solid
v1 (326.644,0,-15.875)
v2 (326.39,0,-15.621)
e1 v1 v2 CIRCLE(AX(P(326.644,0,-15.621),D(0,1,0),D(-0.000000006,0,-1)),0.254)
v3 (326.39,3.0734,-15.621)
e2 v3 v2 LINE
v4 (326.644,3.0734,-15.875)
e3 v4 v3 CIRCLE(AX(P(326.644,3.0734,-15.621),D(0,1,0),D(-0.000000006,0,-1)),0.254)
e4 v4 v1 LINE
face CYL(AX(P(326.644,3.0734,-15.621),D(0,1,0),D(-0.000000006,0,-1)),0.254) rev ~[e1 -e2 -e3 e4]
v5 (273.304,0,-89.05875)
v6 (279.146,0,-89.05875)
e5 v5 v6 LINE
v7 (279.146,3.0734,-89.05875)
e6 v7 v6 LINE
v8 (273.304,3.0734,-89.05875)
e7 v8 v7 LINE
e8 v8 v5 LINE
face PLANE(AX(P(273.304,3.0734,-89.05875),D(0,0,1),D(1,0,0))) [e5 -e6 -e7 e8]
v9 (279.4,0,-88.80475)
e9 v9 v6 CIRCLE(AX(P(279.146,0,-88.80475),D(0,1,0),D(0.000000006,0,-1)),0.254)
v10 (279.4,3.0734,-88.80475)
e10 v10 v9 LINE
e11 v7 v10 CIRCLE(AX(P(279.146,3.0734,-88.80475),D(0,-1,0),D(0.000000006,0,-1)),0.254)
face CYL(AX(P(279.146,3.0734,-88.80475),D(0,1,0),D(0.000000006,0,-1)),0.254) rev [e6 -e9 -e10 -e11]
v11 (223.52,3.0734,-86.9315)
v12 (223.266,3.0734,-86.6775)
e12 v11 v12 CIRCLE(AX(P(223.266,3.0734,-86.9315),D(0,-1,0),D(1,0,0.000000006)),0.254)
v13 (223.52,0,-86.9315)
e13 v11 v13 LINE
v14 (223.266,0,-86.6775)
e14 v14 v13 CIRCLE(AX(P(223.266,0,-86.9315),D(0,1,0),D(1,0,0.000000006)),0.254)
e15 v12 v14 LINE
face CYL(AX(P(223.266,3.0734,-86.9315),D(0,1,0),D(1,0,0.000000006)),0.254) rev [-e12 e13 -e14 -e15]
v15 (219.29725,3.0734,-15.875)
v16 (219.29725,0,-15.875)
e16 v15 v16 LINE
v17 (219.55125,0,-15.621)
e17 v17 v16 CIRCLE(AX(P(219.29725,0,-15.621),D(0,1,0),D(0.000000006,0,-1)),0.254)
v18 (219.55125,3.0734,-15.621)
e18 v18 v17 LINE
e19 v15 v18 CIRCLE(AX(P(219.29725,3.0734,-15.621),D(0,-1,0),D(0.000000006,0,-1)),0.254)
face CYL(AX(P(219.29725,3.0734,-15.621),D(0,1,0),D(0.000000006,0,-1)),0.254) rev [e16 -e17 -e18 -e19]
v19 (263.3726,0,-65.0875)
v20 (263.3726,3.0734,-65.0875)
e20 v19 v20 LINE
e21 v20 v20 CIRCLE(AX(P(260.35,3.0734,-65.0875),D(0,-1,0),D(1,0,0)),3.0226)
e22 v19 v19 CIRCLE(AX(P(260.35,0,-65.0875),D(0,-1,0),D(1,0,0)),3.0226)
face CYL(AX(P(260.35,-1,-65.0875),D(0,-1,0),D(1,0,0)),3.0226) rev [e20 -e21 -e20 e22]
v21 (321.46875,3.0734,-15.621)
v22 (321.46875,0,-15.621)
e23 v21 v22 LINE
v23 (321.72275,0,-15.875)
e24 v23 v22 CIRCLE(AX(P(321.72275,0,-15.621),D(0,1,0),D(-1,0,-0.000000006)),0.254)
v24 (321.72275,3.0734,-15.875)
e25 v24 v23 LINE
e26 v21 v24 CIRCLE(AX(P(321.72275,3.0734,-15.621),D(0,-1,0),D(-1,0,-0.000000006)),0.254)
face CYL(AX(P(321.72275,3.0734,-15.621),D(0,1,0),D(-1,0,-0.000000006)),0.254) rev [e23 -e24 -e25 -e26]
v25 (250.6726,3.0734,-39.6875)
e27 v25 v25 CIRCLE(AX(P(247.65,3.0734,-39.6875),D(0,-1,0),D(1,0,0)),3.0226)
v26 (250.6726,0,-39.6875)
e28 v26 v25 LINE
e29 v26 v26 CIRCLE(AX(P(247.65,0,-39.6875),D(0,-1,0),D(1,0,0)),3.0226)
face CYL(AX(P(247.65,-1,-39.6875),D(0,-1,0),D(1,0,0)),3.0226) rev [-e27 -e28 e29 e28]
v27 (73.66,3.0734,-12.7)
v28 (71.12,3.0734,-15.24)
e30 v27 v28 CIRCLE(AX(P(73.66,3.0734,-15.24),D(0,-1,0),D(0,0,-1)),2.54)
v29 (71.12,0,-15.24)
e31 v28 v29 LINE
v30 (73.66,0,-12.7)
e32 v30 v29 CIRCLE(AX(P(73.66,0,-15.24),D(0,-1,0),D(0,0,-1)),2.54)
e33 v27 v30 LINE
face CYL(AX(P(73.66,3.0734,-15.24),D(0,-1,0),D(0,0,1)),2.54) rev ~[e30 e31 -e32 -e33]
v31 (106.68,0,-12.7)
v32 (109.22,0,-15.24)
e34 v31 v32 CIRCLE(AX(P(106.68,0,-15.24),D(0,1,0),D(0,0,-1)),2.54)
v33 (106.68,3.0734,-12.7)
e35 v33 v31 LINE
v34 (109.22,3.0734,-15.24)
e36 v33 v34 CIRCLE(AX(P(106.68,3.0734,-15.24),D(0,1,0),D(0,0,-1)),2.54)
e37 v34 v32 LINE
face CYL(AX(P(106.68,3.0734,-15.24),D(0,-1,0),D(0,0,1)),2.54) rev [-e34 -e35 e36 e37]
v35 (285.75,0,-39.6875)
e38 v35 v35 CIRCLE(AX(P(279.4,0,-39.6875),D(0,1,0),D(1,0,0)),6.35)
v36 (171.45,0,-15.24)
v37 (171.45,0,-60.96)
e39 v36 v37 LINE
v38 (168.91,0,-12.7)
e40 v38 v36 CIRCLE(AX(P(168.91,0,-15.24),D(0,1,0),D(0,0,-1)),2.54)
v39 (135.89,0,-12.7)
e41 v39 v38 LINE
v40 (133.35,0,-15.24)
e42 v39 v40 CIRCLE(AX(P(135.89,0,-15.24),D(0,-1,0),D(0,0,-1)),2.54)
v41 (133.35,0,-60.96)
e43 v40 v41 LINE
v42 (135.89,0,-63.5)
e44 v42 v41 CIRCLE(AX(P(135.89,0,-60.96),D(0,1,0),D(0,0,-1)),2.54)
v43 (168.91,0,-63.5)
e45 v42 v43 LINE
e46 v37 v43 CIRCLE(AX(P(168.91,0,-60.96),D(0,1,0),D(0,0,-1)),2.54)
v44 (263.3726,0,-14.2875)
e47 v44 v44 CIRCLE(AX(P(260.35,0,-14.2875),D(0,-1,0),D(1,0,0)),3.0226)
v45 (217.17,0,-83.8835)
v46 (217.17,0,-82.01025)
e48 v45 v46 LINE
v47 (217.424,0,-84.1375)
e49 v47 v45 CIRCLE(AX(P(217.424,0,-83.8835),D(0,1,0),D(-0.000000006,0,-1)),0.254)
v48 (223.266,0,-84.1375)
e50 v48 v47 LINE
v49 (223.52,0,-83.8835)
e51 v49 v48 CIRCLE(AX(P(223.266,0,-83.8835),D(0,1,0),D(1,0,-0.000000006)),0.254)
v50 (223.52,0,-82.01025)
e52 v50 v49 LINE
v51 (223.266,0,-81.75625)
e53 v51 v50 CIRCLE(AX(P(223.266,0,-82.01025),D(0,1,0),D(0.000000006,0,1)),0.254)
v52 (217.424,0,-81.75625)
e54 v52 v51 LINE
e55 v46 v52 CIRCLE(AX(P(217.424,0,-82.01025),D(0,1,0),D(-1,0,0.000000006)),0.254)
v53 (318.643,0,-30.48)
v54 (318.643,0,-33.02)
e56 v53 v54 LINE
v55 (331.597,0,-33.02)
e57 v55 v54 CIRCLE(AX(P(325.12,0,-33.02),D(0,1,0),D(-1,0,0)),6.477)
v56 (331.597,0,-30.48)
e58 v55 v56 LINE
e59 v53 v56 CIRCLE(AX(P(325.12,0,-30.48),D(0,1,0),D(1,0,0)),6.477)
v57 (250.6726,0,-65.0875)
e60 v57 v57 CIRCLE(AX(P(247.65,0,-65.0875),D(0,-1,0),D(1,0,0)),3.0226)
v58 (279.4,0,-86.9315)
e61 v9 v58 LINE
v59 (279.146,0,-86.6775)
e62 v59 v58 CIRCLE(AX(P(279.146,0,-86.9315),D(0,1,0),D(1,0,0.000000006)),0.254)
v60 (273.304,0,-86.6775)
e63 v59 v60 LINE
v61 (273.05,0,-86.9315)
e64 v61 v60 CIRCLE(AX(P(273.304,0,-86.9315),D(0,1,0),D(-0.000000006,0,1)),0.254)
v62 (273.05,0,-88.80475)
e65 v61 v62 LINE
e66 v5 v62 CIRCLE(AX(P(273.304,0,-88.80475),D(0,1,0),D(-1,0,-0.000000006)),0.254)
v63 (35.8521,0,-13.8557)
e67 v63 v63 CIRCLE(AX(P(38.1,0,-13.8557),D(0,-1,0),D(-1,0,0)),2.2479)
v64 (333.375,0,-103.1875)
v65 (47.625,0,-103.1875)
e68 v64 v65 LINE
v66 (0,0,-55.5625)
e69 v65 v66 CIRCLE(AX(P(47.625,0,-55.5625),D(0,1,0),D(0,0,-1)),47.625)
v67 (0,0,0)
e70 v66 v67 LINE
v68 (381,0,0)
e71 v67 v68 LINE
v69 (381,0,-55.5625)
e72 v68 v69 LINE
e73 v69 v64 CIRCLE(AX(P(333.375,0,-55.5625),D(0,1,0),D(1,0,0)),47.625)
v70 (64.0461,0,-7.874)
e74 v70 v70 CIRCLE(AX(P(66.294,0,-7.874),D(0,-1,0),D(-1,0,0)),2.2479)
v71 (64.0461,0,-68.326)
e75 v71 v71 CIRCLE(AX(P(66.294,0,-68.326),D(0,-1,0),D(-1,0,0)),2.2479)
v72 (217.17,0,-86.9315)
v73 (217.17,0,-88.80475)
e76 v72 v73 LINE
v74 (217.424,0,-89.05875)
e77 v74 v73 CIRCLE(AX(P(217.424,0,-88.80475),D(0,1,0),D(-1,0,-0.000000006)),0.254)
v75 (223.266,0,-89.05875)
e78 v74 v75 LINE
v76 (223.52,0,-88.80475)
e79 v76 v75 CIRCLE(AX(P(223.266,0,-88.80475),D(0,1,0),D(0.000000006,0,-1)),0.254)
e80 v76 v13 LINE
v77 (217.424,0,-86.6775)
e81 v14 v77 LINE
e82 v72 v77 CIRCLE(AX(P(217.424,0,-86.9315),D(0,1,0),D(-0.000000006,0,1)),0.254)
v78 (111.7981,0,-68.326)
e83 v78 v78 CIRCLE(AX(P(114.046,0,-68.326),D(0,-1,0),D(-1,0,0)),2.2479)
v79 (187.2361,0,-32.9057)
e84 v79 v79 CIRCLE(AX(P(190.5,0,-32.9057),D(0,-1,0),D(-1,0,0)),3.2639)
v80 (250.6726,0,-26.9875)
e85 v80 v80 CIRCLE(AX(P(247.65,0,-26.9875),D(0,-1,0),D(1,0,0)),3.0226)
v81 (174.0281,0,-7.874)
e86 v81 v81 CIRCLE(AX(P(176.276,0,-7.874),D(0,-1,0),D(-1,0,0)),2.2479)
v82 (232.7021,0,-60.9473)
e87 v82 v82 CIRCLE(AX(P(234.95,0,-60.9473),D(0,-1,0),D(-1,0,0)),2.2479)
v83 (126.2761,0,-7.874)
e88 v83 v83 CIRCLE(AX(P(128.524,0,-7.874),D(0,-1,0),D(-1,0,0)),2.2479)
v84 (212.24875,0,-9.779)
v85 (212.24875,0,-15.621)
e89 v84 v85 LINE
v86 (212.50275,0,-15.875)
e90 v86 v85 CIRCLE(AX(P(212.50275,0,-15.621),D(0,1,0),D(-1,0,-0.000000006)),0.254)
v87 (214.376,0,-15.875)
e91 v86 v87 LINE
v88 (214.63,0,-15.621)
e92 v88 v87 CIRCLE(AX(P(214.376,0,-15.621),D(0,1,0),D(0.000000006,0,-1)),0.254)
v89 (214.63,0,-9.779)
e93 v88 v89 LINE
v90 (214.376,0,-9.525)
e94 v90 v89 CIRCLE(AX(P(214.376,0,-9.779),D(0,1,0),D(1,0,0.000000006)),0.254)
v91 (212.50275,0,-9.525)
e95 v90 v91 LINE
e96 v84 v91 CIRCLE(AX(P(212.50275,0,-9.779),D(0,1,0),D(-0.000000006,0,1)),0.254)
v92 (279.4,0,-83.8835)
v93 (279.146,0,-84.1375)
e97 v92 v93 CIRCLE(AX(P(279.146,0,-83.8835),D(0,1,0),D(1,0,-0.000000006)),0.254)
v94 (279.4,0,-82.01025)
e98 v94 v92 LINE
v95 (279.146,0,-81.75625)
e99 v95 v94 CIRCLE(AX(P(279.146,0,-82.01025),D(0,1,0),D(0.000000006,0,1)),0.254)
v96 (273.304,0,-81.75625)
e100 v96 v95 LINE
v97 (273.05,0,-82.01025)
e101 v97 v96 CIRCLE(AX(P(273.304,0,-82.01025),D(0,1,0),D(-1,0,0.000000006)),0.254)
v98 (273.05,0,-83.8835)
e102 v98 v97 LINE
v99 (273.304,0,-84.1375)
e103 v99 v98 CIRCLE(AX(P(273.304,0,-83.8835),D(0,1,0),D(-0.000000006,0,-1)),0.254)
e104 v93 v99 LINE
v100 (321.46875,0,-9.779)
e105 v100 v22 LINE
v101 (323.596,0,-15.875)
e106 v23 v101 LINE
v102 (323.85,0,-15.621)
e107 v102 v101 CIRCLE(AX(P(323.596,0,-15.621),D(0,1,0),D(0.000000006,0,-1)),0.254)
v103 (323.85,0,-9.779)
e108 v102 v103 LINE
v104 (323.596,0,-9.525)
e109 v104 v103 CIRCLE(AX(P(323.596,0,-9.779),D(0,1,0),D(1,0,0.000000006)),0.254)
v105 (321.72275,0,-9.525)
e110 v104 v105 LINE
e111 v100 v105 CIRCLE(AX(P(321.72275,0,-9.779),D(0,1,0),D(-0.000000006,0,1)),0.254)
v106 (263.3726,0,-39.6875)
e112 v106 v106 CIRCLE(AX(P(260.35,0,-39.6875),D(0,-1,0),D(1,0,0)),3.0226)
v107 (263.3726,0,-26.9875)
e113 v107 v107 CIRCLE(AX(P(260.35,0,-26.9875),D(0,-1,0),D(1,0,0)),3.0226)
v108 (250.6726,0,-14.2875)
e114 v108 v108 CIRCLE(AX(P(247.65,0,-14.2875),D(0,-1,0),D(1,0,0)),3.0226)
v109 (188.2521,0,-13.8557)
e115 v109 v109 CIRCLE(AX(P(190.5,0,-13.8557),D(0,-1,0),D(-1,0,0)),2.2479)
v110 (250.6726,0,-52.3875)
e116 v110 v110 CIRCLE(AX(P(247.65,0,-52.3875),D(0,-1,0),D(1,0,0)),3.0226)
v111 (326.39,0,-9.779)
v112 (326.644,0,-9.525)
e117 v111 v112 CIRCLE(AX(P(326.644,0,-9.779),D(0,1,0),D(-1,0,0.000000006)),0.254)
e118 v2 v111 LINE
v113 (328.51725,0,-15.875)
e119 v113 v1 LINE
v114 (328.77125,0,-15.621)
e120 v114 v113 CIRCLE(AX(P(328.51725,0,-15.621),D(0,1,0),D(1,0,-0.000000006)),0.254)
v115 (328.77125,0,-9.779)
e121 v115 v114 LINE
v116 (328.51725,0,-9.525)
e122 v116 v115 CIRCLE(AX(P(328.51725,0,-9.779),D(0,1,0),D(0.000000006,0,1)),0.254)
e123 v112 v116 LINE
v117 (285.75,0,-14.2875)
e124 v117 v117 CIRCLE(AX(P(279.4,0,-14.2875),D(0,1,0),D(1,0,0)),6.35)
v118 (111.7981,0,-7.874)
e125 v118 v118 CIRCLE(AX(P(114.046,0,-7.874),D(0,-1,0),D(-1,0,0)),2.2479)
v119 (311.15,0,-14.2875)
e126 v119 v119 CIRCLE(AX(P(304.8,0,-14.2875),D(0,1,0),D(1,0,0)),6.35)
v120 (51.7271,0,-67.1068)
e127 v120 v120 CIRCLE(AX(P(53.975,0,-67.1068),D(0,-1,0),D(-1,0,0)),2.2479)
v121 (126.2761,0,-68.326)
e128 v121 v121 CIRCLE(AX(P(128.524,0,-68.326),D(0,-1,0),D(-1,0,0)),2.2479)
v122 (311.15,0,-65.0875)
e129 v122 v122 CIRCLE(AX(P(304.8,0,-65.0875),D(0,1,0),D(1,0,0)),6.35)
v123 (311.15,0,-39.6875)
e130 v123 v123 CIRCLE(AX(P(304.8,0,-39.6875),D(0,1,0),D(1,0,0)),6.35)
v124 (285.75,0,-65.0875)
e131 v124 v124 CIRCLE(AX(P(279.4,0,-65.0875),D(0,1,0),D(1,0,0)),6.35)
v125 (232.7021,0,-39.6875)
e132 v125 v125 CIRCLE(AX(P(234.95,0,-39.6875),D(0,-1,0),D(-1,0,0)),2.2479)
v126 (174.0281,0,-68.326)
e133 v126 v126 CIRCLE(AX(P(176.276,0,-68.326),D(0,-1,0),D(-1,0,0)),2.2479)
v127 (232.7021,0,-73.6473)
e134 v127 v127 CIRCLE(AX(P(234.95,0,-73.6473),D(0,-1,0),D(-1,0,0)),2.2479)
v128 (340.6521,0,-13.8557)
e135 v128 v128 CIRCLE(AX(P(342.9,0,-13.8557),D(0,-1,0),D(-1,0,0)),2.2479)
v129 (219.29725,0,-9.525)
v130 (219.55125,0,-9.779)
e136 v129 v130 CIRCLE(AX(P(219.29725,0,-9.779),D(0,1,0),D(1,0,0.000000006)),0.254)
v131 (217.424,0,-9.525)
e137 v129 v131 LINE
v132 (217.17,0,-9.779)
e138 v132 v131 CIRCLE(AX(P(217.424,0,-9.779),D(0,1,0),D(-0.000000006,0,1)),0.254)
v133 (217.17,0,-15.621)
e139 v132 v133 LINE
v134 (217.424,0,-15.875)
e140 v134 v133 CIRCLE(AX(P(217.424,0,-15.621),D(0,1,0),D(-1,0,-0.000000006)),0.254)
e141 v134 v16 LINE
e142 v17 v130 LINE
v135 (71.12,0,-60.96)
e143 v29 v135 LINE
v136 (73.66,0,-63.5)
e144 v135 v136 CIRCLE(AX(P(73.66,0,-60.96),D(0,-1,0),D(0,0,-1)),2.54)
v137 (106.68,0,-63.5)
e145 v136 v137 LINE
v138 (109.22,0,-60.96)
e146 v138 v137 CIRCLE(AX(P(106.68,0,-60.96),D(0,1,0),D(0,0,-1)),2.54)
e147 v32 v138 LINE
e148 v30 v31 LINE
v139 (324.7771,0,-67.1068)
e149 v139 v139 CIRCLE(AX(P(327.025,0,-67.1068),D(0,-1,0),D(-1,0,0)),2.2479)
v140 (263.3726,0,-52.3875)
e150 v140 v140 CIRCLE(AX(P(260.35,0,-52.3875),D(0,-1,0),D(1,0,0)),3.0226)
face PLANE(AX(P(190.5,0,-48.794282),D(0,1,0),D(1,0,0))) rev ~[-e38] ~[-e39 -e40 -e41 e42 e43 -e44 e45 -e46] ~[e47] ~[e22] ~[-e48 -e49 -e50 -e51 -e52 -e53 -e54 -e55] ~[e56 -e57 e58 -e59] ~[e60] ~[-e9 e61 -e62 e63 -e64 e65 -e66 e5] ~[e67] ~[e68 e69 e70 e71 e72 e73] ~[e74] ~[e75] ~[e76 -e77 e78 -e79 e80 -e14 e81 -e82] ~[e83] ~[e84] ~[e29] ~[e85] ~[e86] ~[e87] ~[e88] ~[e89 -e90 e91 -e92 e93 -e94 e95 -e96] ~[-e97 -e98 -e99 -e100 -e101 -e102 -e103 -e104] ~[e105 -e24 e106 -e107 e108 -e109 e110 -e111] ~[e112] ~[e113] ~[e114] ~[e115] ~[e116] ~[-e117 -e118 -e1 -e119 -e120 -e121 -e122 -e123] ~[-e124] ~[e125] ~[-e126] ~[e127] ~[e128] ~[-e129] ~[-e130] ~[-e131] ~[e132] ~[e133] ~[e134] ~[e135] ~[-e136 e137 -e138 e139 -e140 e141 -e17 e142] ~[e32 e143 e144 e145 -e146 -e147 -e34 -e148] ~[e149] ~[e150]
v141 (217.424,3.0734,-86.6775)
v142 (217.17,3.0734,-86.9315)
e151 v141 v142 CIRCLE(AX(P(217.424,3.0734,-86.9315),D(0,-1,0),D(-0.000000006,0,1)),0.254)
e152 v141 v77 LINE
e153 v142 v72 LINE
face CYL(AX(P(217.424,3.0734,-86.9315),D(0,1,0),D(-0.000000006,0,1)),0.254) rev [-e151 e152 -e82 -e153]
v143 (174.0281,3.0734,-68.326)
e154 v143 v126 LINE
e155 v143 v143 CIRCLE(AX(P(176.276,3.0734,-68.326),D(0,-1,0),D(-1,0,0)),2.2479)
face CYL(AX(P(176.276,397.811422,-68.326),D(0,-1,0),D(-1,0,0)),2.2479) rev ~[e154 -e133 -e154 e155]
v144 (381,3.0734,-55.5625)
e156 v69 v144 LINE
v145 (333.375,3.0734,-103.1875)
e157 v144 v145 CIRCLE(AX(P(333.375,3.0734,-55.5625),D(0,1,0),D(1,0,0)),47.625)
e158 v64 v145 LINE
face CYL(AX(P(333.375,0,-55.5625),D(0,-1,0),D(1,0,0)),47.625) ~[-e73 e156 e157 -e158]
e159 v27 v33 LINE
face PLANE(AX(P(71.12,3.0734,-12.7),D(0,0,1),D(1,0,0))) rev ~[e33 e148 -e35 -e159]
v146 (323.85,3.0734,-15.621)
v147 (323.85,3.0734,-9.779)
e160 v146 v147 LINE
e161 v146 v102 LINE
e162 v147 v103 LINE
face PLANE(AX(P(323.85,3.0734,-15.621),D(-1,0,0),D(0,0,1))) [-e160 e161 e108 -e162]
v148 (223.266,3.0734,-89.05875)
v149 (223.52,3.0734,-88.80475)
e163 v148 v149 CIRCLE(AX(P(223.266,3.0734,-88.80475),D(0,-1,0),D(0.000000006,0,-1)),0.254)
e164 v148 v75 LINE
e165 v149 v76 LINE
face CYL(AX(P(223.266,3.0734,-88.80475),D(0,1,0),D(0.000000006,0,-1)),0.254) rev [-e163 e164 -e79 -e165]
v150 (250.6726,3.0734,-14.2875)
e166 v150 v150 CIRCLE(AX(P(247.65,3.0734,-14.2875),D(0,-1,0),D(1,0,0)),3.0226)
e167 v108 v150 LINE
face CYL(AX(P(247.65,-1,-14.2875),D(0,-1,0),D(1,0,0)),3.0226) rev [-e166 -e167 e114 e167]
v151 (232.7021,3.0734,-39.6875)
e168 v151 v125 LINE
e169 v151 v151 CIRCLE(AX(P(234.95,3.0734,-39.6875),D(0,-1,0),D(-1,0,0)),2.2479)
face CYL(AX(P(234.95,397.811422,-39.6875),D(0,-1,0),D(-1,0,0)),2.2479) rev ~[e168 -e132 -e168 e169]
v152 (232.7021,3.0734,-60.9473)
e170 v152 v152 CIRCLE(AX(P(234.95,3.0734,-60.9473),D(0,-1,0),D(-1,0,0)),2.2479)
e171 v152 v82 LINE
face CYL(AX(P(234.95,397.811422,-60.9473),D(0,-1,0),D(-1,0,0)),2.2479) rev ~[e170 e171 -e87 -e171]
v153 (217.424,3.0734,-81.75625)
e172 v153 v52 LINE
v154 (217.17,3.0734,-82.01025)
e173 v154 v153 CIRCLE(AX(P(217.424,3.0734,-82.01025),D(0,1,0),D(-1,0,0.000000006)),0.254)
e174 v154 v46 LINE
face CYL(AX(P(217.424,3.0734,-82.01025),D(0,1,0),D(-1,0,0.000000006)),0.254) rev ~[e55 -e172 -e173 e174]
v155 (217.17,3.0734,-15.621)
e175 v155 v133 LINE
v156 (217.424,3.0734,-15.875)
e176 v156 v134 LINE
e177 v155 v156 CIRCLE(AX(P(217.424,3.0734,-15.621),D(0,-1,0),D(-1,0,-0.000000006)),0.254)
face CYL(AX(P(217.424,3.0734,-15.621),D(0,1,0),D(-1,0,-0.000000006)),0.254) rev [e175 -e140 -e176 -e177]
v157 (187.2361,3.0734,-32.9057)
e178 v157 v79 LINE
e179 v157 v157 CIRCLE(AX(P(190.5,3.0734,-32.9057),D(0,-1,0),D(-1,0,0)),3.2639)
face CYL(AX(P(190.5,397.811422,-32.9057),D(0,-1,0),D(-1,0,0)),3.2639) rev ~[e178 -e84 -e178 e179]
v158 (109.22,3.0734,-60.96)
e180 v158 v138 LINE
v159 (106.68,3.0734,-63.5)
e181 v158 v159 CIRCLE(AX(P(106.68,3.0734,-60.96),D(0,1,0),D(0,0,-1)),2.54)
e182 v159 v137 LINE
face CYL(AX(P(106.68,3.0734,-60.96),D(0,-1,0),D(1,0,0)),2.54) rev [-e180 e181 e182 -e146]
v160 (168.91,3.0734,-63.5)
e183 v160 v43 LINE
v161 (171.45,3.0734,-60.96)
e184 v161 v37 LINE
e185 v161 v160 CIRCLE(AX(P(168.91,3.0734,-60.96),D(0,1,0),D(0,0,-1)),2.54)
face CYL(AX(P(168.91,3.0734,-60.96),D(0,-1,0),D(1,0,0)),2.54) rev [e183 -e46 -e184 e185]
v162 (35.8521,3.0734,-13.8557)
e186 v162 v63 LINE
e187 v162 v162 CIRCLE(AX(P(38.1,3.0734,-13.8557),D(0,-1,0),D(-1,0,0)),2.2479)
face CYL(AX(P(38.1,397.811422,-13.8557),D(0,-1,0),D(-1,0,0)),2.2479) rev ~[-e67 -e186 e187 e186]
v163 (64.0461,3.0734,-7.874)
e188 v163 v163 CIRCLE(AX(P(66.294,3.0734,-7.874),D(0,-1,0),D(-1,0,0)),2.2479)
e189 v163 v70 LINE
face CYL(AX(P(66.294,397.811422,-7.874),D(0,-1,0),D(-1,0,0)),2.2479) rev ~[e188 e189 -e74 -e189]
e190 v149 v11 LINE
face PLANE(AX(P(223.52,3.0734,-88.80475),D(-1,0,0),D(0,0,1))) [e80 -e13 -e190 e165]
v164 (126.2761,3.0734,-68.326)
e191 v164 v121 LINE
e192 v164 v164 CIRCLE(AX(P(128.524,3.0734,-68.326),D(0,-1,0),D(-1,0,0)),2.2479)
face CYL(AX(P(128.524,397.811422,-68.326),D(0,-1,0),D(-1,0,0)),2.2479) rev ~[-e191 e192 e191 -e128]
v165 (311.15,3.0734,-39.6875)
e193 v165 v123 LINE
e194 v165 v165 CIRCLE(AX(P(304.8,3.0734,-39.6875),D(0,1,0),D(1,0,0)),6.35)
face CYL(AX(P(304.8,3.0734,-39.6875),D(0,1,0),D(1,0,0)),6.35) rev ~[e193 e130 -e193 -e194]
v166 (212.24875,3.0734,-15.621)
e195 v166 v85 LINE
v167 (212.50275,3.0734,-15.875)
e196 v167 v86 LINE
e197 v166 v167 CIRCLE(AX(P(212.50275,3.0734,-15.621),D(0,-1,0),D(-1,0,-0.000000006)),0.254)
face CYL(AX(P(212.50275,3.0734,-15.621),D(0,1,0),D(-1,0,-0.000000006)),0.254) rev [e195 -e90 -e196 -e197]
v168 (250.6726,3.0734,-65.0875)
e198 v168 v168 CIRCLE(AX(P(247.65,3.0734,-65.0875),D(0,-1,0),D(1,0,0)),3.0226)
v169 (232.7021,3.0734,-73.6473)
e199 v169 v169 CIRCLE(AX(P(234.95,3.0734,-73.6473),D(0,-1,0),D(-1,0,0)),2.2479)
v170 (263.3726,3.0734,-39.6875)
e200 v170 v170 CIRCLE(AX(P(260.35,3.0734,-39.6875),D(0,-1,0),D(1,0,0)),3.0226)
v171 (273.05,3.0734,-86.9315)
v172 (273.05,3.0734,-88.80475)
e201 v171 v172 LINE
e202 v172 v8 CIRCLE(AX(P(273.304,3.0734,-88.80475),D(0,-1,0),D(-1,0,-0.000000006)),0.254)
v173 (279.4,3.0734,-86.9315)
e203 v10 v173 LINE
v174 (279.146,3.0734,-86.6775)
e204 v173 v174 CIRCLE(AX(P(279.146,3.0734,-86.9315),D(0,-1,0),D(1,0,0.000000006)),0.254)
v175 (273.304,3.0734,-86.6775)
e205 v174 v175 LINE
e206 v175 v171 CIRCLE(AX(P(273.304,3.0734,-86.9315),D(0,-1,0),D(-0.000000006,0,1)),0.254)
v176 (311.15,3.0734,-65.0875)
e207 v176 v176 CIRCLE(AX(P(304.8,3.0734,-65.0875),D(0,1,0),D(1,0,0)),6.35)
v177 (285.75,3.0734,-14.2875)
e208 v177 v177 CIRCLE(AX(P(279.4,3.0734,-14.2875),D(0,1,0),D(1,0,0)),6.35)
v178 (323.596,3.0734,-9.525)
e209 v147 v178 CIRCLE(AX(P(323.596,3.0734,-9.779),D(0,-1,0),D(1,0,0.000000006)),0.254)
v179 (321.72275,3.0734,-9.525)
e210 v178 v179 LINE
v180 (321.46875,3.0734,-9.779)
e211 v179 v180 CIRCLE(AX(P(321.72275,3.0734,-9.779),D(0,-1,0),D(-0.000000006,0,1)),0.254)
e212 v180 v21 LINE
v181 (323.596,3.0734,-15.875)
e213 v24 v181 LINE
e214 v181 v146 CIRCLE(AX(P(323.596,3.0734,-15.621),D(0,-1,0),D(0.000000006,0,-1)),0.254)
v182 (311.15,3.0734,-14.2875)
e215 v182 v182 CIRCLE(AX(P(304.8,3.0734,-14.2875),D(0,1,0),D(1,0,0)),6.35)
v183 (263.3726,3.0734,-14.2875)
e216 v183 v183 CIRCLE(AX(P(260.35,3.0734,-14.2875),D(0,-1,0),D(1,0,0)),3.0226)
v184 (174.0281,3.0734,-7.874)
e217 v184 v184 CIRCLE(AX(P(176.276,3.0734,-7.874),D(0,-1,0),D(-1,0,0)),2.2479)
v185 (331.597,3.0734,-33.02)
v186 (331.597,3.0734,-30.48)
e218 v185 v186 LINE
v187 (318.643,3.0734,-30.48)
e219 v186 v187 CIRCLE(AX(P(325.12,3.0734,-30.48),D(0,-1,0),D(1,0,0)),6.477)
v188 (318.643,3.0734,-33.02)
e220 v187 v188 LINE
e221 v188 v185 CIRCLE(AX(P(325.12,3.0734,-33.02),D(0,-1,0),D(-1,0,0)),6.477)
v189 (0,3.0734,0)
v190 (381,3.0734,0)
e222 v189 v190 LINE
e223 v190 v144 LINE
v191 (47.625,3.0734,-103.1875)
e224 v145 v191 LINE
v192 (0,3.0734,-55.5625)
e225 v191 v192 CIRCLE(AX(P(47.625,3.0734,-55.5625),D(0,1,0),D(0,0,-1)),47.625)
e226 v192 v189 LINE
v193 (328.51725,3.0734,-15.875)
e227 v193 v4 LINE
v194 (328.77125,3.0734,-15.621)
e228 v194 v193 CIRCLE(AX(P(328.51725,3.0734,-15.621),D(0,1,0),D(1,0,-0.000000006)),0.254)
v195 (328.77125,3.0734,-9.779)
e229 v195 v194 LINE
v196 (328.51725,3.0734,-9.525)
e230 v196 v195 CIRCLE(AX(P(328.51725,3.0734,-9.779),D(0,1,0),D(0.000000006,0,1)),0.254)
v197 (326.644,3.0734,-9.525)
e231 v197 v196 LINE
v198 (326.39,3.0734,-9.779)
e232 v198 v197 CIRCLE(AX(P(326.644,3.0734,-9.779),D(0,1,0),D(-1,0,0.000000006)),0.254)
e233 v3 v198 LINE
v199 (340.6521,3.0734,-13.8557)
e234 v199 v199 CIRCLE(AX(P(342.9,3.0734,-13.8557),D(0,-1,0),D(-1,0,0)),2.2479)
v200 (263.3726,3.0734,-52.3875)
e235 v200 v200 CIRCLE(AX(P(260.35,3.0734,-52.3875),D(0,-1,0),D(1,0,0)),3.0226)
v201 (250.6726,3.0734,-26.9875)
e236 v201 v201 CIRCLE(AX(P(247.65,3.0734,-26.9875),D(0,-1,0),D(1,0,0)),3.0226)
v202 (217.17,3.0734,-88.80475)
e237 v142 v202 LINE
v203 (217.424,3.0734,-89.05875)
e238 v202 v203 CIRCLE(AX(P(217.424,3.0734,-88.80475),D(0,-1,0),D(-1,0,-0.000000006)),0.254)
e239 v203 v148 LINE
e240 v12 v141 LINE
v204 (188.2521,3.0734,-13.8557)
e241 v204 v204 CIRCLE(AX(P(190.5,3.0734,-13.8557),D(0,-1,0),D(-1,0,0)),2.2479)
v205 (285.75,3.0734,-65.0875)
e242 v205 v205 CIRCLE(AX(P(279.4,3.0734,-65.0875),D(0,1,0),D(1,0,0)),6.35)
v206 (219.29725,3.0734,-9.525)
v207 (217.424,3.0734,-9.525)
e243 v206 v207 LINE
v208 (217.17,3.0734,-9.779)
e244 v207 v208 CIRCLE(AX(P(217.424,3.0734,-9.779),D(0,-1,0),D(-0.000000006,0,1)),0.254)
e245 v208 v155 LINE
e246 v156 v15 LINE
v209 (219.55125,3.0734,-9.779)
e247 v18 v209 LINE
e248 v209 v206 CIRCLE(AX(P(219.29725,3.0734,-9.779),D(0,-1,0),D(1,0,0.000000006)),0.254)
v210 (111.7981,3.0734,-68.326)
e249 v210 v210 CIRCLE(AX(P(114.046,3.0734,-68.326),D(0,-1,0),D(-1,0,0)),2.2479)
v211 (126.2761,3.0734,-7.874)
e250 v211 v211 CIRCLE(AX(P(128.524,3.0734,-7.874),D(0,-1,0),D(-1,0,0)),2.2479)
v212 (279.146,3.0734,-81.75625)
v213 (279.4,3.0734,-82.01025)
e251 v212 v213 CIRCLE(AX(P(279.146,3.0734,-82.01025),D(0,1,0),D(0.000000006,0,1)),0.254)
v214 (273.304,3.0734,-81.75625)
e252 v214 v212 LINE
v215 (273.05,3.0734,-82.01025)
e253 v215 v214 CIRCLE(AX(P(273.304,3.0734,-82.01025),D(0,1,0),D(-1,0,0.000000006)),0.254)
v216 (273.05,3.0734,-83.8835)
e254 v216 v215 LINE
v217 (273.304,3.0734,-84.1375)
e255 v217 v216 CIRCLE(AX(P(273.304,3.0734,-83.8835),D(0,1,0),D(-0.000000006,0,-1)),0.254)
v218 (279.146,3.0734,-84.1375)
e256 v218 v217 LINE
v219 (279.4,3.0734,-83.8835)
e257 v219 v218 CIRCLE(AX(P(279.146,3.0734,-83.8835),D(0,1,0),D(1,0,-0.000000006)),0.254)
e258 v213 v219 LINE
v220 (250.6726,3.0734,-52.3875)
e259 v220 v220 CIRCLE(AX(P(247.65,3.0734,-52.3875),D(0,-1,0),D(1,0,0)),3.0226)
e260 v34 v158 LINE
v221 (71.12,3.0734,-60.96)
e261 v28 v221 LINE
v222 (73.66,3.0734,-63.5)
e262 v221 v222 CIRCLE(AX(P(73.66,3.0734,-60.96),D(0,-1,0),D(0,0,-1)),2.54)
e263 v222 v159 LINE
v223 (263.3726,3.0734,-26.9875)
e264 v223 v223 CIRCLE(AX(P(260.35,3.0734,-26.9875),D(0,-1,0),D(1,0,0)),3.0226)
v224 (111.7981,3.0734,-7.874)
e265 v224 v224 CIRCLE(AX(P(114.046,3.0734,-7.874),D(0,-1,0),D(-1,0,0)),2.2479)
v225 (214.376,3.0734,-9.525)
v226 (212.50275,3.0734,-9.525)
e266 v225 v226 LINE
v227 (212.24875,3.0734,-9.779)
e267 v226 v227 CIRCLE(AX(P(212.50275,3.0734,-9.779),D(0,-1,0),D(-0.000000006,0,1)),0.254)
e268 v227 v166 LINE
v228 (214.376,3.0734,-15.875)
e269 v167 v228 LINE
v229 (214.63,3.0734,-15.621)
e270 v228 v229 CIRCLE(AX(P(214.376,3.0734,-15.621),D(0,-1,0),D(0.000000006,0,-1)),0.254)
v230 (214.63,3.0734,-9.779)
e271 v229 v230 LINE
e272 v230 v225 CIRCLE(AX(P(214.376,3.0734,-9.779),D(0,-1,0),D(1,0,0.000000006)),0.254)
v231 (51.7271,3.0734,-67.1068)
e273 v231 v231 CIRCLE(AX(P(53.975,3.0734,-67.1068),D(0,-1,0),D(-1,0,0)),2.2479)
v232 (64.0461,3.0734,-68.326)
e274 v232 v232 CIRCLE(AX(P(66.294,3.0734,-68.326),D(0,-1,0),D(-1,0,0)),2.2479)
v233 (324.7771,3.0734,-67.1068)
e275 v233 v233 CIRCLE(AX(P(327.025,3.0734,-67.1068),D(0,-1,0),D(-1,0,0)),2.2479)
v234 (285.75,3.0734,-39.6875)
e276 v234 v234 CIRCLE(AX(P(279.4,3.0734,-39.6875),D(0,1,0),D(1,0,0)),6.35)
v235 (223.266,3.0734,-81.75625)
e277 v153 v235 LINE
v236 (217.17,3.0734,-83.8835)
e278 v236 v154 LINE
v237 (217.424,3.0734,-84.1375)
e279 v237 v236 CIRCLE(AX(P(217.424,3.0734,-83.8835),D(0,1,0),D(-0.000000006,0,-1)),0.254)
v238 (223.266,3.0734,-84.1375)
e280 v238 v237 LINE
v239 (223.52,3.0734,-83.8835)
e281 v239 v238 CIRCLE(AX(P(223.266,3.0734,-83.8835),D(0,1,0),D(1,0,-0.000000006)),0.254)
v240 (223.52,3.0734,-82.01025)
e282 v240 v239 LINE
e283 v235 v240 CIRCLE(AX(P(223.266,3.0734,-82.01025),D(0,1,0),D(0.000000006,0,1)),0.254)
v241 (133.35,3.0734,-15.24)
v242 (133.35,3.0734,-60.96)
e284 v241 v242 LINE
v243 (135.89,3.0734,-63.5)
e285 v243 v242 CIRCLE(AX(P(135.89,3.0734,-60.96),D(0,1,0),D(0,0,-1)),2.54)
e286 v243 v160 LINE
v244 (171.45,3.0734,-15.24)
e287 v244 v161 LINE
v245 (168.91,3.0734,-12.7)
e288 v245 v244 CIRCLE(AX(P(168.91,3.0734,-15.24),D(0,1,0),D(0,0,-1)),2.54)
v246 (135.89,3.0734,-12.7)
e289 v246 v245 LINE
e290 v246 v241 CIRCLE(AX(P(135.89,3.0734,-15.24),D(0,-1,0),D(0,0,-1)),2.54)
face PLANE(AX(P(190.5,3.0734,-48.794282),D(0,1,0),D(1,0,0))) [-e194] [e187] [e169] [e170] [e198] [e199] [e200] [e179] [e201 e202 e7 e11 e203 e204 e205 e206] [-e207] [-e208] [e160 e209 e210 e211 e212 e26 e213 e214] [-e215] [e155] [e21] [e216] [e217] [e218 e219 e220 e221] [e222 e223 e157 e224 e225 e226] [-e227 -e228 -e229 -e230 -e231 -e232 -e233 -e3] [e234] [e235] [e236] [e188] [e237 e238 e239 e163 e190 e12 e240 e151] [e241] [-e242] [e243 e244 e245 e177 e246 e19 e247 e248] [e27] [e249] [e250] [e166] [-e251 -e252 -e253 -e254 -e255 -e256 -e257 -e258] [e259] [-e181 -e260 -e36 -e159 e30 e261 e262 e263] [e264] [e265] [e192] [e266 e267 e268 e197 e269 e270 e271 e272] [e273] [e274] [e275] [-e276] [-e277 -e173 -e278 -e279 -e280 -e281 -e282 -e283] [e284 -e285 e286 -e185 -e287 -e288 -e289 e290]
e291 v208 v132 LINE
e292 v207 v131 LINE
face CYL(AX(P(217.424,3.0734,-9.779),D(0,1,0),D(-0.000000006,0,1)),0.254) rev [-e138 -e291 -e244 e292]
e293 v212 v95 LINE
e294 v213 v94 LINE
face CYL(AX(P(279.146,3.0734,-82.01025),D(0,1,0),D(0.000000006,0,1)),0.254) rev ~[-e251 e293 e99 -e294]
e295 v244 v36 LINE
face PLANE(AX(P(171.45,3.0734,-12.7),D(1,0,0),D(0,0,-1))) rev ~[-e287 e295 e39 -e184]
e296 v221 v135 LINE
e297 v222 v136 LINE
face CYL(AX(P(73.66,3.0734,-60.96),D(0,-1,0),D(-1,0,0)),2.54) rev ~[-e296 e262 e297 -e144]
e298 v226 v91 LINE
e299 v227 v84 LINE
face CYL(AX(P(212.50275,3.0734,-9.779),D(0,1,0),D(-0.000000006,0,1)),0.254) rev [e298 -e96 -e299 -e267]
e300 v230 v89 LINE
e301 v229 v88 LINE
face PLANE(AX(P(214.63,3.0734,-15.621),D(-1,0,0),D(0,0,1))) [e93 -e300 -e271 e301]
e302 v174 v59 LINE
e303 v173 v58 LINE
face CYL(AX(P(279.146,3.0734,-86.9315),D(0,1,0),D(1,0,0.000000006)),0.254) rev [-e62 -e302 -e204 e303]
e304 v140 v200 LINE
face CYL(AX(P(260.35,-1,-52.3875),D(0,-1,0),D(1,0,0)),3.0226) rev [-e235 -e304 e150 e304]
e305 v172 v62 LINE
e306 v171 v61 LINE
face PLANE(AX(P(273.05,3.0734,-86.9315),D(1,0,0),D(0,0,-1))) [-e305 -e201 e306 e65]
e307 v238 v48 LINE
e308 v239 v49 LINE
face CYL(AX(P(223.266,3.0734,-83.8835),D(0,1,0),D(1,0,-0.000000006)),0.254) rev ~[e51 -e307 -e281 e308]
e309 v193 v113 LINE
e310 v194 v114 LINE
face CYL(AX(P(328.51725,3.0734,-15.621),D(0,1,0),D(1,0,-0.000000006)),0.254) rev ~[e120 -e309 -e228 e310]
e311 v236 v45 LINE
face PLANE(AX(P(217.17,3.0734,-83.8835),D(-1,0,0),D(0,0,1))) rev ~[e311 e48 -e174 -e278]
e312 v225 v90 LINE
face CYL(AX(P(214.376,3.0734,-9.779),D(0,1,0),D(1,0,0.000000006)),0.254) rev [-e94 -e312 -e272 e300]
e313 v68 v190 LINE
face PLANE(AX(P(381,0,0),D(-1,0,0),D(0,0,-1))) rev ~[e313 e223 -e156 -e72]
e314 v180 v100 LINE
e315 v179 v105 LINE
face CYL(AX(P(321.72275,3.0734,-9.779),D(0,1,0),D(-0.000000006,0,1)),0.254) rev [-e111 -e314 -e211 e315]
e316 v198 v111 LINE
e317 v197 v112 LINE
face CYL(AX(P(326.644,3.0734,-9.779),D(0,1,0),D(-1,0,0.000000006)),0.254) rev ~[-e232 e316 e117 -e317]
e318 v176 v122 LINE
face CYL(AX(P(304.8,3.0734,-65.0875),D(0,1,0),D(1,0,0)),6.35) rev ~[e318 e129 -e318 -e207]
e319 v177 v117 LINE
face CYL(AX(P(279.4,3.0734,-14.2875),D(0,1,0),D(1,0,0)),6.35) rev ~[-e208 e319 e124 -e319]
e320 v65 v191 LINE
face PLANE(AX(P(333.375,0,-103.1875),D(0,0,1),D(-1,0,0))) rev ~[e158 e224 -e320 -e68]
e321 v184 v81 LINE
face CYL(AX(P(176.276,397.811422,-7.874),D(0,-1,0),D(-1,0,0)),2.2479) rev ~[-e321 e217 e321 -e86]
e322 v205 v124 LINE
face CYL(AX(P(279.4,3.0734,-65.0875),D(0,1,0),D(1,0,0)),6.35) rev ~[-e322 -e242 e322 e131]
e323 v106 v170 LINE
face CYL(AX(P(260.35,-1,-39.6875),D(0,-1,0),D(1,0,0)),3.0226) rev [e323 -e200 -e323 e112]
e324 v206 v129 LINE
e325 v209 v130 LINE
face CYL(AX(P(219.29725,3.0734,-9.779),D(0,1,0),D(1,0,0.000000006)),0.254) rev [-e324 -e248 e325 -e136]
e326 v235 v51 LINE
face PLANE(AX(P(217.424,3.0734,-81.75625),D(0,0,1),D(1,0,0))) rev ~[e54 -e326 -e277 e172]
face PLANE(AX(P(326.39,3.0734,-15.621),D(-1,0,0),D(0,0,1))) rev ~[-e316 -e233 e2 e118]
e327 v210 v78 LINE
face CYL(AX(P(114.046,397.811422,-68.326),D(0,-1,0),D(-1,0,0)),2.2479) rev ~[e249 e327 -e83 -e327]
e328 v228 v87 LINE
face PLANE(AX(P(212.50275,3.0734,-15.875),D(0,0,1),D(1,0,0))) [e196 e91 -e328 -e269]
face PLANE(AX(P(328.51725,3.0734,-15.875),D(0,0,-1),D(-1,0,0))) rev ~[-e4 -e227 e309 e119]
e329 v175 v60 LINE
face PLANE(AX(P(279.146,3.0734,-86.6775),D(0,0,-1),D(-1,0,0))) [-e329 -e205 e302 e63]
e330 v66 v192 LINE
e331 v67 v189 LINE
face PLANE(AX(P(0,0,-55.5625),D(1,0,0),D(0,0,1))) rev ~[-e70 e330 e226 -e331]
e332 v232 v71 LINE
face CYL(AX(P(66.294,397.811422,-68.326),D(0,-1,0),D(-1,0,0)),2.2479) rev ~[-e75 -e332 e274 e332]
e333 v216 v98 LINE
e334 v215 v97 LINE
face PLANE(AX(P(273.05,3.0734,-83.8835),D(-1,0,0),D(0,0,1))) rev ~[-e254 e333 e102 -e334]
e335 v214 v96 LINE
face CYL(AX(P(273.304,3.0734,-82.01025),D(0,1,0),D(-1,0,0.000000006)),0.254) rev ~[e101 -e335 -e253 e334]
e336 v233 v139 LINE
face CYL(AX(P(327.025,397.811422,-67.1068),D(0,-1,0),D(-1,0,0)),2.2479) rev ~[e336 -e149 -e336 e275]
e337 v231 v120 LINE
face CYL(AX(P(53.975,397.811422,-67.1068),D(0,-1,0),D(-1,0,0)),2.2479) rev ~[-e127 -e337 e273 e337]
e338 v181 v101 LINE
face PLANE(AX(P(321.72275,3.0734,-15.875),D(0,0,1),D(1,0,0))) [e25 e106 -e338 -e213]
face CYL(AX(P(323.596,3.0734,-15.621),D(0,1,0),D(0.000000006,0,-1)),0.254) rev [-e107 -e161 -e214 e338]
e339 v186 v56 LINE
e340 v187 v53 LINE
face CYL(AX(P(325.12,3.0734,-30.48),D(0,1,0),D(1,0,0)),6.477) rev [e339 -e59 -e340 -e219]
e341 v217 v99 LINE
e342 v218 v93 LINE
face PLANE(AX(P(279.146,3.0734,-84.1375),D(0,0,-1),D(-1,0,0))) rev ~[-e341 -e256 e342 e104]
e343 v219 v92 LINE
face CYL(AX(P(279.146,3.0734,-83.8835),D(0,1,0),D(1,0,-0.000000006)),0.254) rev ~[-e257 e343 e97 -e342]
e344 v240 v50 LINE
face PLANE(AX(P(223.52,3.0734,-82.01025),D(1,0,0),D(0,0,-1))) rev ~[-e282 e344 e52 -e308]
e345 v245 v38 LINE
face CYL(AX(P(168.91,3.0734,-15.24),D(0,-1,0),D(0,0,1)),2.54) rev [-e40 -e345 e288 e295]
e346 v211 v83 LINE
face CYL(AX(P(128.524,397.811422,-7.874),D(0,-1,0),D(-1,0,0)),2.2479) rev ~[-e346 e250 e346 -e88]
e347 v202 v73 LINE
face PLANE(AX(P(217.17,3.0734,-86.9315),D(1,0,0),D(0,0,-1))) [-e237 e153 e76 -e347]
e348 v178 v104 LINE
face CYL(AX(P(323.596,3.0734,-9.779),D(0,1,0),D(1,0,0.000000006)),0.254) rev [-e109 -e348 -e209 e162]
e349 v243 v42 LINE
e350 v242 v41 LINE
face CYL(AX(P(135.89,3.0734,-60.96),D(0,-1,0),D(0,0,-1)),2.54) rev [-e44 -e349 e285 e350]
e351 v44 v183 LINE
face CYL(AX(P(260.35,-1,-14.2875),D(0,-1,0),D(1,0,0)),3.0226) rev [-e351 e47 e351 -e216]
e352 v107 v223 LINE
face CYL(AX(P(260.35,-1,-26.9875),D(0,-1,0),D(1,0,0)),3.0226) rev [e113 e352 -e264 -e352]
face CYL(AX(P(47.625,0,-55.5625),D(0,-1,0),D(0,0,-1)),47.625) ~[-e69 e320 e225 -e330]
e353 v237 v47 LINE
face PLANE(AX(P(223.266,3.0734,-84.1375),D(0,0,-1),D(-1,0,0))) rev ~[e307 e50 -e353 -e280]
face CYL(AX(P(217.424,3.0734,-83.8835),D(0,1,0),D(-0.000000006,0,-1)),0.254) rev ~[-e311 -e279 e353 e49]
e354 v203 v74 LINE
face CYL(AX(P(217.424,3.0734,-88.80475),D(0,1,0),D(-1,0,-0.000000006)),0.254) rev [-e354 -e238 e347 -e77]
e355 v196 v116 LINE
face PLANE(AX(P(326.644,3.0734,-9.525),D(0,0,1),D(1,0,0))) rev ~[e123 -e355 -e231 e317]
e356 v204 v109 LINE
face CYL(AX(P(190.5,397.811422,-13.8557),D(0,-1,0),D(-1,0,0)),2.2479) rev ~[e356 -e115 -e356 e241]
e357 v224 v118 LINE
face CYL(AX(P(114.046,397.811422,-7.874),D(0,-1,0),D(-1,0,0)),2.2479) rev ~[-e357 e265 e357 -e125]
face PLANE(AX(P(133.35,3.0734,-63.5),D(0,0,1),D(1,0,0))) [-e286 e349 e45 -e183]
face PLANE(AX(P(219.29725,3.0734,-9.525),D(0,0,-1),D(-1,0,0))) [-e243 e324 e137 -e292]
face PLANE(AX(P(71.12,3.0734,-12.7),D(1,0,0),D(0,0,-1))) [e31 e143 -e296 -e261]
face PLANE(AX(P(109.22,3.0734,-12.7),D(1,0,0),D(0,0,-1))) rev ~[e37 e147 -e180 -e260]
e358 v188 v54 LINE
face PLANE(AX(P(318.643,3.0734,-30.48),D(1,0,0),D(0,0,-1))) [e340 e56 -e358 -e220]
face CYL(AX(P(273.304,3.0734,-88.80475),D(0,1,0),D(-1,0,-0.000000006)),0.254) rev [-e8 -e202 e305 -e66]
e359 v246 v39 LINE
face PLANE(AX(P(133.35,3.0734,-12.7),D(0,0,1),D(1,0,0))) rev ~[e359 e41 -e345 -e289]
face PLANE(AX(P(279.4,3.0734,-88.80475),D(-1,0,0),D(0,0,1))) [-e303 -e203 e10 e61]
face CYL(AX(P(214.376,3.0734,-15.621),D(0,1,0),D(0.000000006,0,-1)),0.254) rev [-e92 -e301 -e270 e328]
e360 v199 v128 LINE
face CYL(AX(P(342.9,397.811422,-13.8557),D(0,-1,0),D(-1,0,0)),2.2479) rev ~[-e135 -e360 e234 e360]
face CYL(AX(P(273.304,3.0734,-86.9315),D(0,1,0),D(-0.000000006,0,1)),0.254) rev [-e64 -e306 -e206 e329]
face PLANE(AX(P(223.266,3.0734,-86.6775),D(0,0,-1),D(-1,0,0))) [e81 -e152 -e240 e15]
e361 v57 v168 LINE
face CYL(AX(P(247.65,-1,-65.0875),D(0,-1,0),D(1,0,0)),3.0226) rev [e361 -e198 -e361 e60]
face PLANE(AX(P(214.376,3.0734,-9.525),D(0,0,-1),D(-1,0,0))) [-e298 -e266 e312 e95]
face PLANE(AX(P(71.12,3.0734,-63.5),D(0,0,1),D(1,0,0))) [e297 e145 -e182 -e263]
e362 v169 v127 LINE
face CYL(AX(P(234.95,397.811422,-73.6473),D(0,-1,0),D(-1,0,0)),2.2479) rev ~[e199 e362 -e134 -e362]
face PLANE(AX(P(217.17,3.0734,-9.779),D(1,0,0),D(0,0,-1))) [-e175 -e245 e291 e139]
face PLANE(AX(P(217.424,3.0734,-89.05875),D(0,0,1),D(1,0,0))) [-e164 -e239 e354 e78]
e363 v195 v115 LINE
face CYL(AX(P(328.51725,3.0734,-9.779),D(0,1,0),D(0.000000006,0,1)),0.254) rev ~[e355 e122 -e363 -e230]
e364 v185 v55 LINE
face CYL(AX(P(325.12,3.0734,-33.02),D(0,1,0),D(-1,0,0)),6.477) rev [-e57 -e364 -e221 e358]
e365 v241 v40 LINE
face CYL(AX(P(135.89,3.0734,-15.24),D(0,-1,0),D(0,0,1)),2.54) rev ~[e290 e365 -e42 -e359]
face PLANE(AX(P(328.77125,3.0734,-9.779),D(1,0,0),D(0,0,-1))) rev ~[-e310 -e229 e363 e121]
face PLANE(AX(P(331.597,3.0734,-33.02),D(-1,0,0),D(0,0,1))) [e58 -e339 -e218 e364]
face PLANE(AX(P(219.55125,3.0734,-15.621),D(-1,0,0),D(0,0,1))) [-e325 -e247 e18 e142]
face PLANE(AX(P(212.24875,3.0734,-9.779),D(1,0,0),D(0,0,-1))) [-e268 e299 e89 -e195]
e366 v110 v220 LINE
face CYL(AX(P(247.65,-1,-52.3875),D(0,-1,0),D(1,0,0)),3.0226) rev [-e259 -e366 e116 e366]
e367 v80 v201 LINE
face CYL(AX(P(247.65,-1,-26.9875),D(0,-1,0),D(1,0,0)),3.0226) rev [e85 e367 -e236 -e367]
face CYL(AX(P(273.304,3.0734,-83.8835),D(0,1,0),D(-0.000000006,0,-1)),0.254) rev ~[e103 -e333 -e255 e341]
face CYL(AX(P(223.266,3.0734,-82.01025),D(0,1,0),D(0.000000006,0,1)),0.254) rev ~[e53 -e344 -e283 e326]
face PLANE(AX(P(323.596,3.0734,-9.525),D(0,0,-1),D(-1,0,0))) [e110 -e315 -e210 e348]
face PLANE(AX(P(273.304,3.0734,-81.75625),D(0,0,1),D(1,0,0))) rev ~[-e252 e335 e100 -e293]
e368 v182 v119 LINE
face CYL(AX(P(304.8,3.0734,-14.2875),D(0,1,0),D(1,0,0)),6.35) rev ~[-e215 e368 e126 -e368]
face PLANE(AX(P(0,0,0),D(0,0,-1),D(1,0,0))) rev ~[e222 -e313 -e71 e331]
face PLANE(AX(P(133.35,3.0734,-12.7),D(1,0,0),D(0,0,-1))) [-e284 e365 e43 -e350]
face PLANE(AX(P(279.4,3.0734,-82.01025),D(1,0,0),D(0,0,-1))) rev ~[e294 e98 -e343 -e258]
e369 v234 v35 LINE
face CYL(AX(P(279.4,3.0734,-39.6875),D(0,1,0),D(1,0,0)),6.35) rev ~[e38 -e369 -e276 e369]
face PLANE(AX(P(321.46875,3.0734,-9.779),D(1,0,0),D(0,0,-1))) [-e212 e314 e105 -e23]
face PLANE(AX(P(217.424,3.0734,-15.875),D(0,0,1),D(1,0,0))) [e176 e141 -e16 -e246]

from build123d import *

# Parameters (mm, degrees)
BOSS_EXTRUDE1_DEPTH             = 3.0734
L_BRACKET_MOUNT_HOLES_8_D       = 4.4958
SKETCH6_R                       = 6.35
ATLAS_SENSORS_DEPTH             = 4.0734
ATLAS_SENSOR_PATTERN_COUNT      = 3
ATLAS_SENSOR_PATTERN_PITCH      = 25.4
ATLAS_SENSOR_PATTERN_COUNT_DIR2 = 2
ATLAS_SENSOR_PATTERN_PITCH_DIR2 = 25.4
NUTRIENT_START                  = -4.0734
SKETCH7_R                       = 3.0226
NUTRIENT_HOSES_DEPTH            = 5.0734
LPATTERN2_COUNT                 = 2
LPATTERN2_PITCH                 = 12.7
LPATTERN2_COUNT_DIR2            = 5
LPATTERN2_PITCH_DIR2            = 12.7
WATER_LEVEL_SENSOR_D            = 4.4958
TEMP_SENSOR_MOUNTING_DEPTH      = 4.0734
SKETCH12_W                      = 38.1
SKETCH12_H                      = 50.8
ACCESSORY_HOLE_DEPTH            = 4.0734
FILLET1_R                       = 2.54
F_8_CLEARANCE_HOLE3_D           = 4.4958
LPATTERN3_COUNT                 = 2
LPATTERN3_PITCH                 = 62.23
FILLET1_OF_LPATTERN3_R          = 2.54
PUMP_WIRE_ZIP_TIE_DEPTH         = 4.0734
WIRE_ZIP_TIE_DEPTH              = 4.0734
LPATTERN4_COUNT                 = 2
LPATTERN4_PITCH                 = 55.88
F_1_4_CLEARANCE_HOLE1_D         = 6.5278


with BuildPart() as part:
    # Sketch1 → Boss-Extrude1 (new body)
    with BuildSketch(Plane(origin=(0, 0, 0), x_dir=(1, 0, 0), z_dir=(0, 1, 0))):
        with BuildLine():
            Line((0, 0), (381, 0))
            Line((381, 0), (381, 55.5625))
            ThreePointArc((381, 55.5625), (367.050960454, 89.238460454), (333.375, 103.1875))
            Line((333.375, 103.1875), (47.625, 103.1875))
            ThreePointArc((47.625, 103.1875), (13.949039546, 89.238460454), (0, 55.5625))
            Line((0, 55.5625), (0, 0))
        make_face()
    extrude(amount=BOSS_EXTRUDE1_DEPTH)

    # L Bracket Mount Holes (#8) (through all)
    with Locations(Plane(origin=(0, 3.0734, 0), x_dir=(1, 0, 0), z_dir=(0, 1, 0))):
        with Locations((38.1, 13.8557), (342.9, 13.8557), (53.975, 67.1068), (327.025, 67.1068), (190.5, 13.8557)):
            Hole(L_BRACKET_MOUNT_HOLES_8_D / 2)

    # Sketch6 → Atlas Sensors (cut, through all)
    with BuildSketch(Plane(origin=(0, 3.0734, 0), x_dir=(1, 0, 0), z_dir=(0, 1, 0))):
        with Locations((304.8, 65.0875)):
            Circle(SKETCH6_R)
    atlas_sensors = extrude(amount=-ATLAS_SENSORS_DEPTH, mode=Mode.SUBTRACT)

    # Atlas Sensor Pattern: Atlas Sensors 3 × 2
    with Locations(*[(-j * ATLAS_SENSOR_PATTERN_PITCH_DIR2, 0, i * ATLAS_SENSOR_PATTERN_PITCH) for i in range(ATLAS_SENSOR_PATTERN_COUNT) for j in range(ATLAS_SENSOR_PATTERN_COUNT_DIR2) if (i, j) != (0, 0)]):
        add(atlas_sensors, mode=Mode.SUBTRACT)

    # Sketch7 → Nutrient Hoses (cut)
    with BuildSketch(Plane(origin=(0, 3.0734, 0), x_dir=(1, 0, 0), z_dir=(0, 1, 0)).offset(NUTRIENT_START)):
        with Locations((260.35, 65.0875)):
            Circle(SKETCH7_R)
    nutrient_hoses = extrude(amount=NUTRIENT_HOSES_DEPTH, mode=Mode.SUBTRACT)

    # LPattern2: Nutrient Hoses 2 × 5
    with Locations(*[(-i * LPATTERN2_PITCH, 0, j * LPATTERN2_PITCH_DIR2) for i in range(LPATTERN2_COUNT) for j in range(LPATTERN2_COUNT_DIR2) if (i, j) != (0, 0)]):
        add(nutrient_hoses, mode=Mode.SUBTRACT)

    # Water Level Sensor (through all)
    with Locations(Plane(origin=(0, 3.0734, 0), x_dir=(1, 0, 0), z_dir=(0, 1, 0))):
        with Locations((234.95, 60.9473), (234.95, 39.6875), (234.95, 73.6473)):
            Hole(WATER_LEVEL_SENSOR_D / 2)

    # Sketch10 → temp sensor mounting (cut, through all)
    with BuildSketch(Plane(origin=(0, 3.0734, 0), x_dir=(1, 0, 0), z_dir=(0, 1, 0))):
        with BuildLine():
            Line((321.46875, 9.779), (321.46875, 15.621))
            ThreePointArc((321.46875, 15.621), (321.543144878, 15.800605122), (321.72275, 15.875))
            Line((321.72275, 15.875), (323.596, 15.875))
            ThreePointArc((323.596, 15.875), (323.775605122, 15.800605122), (323.85, 15.621))
            Line((323.85, 15.621), (323.85, 9.779))
            ThreePointArc((323.85, 9.779), (323.775605122, 9.599394878), (323.596, 9.525))
            Line((323.596, 9.525), (321.72275, 9.525))
            ThreePointArc((321.72275, 9.525), (321.543144878, 9.599394878), (321.46875, 9.779))
        make_face()
        with BuildLine():
            Line((326.644, 9.525), (328.51725, 9.525))
            ThreePointArc((328.51725, 9.525), (328.696855122, 9.599394878), (328.77125, 9.779))
            Line((328.77125, 9.779), (328.77125, 15.621))
            ThreePointArc((328.77125, 15.621), (328.696855122, 15.800605122), (328.51725, 15.875))
            Line((328.51725, 15.875), (326.644, 15.875))
            ThreePointArc((326.644, 15.875), (326.464394878, 15.800605122), (326.39, 15.621))
            Line((326.39, 15.621), (326.39, 9.779))
            ThreePointArc((326.39, 9.779), (326.464394878, 9.599394878), (326.644, 9.525))
        make_face()
        with BuildLine():
            Line((318.643, 30.48), (318.643, 33.02))
            ThreePointArc((318.643, 33.02), (325.12, 39.497), (331.597, 33.02))
            Line((331.597, 33.02), (331.597, 30.48))
            ThreePointArc((331.597, 30.48), (325.12, 24.003), (318.643, 30.48))
        make_face()
    extrude(amount=-TEMP_SENSOR_MOUNTING_DEPTH, mode=Mode.SUBTRACT)

    # Sketch12 → Accessory Hole (cut, through all)
    with BuildSketch(Plane(origin=(0, 3.0734, 0), x_dir=(1, 0, 0), z_dir=(0, 1, 0))):
        with Locations((152.4, 38.1)):
            Rectangle(SKETCH12_W, SKETCH12_H)
    accessory_hole = extrude(amount=-ACCESSORY_HOLE_DEPTH, mode=Mode.SUBTRACT)

    # Fillet1
    fillet1_edges = [part.edges().sort_by_distance(p)[0] for p in [
        (133.35, 1.5367, -12.7),
        (133.35, 1.5367, -63.5),
        (171.45, 1.5367, -63.5),
        (171.45, 1.5367, -12.7),
    ]]
    fillet(fillet1_edges, radius=FILLET1_R)

    # #8 Clearance Hole3 (through all)
    with Locations(Plane(origin=(0, 3.0734, 0), x_dir=(1, 0, 0), z_dir=(0, 1, 0))):
        with Locations((128.524, 68.326), (176.276, 68.326), (176.276, 7.874), (128.524, 7.874)):
            f_8_clearance_hole3 = Hole(F_8_CLEARANCE_HOLE3_D / 2)

    # LPattern3: Accessory Hole, #8 Clearance Hole3 ×2
    with Locations(*[(-i * LPATTERN3_PITCH, 0, 0) for i in range(1, LPATTERN3_COUNT)]):
        add(accessory_hole, mode=Mode.SUBTRACT)
        add(f_8_clearance_hole3, mode=Mode.SUBTRACT)

    # Fillet1 of LPattern3
    fillet1_of_lpattern3_edges = [part.edges().sort_by_distance(p)[0] for p in [
        (71.12, 1.5367, -12.7),
        (71.12, 1.5367, -63.5),
        (109.22, 1.5367, -63.5),
        (109.22, 1.5367, -12.7),
    ]]
    fillet(fillet1_of_lpattern3_edges, radius=FILLET1_OF_LPATTERN3_R)

    # Sketch16 → Pump Wire zip tie (cut, through all)
    with BuildSketch(Plane(origin=(0, 3.0734, 0), x_dir=(1, 0, 0), z_dir=(0, 1, 0))):
        with BuildLine():
            Line((212.50275, 15.875), (214.376, 15.875))
            ThreePointArc((214.376, 15.875), (214.555605122, 15.800605122), (214.63, 15.621))
            Line((214.63, 15.621), (214.63, 9.779))
            ThreePointArc((214.63, 9.779), (214.555605122, 9.599394878), (214.376, 9.525))
            Line((214.376, 9.525), (212.50275, 9.525))
            ThreePointArc((212.50275, 9.525), (212.323144878, 9.599394878), (212.24875, 9.779))
            Line((212.24875, 9.779), (212.24875, 15.621))
            ThreePointArc((212.24875, 15.621), (212.323144878, 15.800605122), (212.50275, 15.875))
        make_face()
        with BuildLine():
            Line((219.29725, 9.525), (217.424, 9.525))
            ThreePointArc((217.424, 9.525), (217.244394878, 9.599394878), (217.17, 9.779))
            Line((217.17, 9.779), (217.17, 15.621))
            ThreePointArc((217.17, 15.621), (217.244394878, 15.800605122), (217.424, 15.875))
            Line((217.424, 15.875), (219.29725, 15.875))
            ThreePointArc((219.29725, 15.875), (219.476855122, 15.800605122), (219.55125, 15.621))
            Line((219.55125, 15.621), (219.55125, 9.779))
            ThreePointArc((219.55125, 9.779), (219.476855122, 9.599394878), (219.29725, 9.525))
        make_face()
    extrude(amount=-PUMP_WIRE_ZIP_TIE_DEPTH, mode=Mode.SUBTRACT)

    # Sketch18 → Wire Zip Tie (cut, through all)
    with BuildSketch(Plane(origin=(0, 3.0734, 0), x_dir=(1, 0, 0), z_dir=(0, 1, 0))):
        with BuildLine():
            Line((273.304, 89.05875), (279.146, 89.05875))
            ThreePointArc((279.146, 89.05875), (279.325605122, 88.984355122), (279.4, 88.80475))
            Line((279.4, 88.80475), (279.4, 86.9315))
            ThreePointArc((279.4, 86.9315), (279.325605122, 86.751894878), (279.146, 86.6775))
            Line((279.146, 86.6775), (273.304, 86.6775))
            ThreePointArc((273.304, 86.6775), (273.124394878, 86.751894878), (273.05, 86.9315))
            Line((273.05, 86.9315), (273.05, 88.80475))
            ThreePointArc((273.05, 88.80475), (273.124394878, 88.984355122), (273.304, 89.05875))
        make_face()
        with BuildLine():
            Line((279.4, 82.01025), (279.4, 83.8835))
            ThreePointArc((279.4, 83.8835), (279.325605122, 84.063105122), (279.146, 84.1375))
            Line((279.146, 84.1375), (273.304, 84.1375))
            ThreePointArc((273.304, 84.1375), (273.124394878, 84.063105122), (273.05, 83.8835))
            Line((273.05, 83.8835), (273.05, 82.01025))
            ThreePointArc((273.05, 82.01025), (273.124394878, 81.830644878), (273.304, 81.75625))
            Line((273.304, 81.75625), (279.146, 81.75625))
            ThreePointArc((279.146, 81.75625), (279.325605122, 81.830644878), (279.4, 82.01025))
        make_face()
    wire_zip_tie = extrude(amount=-WIRE_ZIP_TIE_DEPTH, mode=Mode.SUBTRACT)

    # LPattern4: Wire Zip Tie ×2
    with Locations(*[(-i * LPATTERN4_PITCH, 0, 0) for i in range(1, LPATTERN4_COUNT)]):
        add(wire_zip_tie, mode=Mode.SUBTRACT)

    # 1/4 Clearance Hole1 (through all)
    with Locations(Plane(origin=(0, 3.0734, 0), x_dir=(1, 0, 0), z_dir=(0, 1, 0))):
        with Locations((190.5, 32.9057)):
            Hole(F_1_4_CLEARANCE_HOLE1_D / 2)


solid = part.part
